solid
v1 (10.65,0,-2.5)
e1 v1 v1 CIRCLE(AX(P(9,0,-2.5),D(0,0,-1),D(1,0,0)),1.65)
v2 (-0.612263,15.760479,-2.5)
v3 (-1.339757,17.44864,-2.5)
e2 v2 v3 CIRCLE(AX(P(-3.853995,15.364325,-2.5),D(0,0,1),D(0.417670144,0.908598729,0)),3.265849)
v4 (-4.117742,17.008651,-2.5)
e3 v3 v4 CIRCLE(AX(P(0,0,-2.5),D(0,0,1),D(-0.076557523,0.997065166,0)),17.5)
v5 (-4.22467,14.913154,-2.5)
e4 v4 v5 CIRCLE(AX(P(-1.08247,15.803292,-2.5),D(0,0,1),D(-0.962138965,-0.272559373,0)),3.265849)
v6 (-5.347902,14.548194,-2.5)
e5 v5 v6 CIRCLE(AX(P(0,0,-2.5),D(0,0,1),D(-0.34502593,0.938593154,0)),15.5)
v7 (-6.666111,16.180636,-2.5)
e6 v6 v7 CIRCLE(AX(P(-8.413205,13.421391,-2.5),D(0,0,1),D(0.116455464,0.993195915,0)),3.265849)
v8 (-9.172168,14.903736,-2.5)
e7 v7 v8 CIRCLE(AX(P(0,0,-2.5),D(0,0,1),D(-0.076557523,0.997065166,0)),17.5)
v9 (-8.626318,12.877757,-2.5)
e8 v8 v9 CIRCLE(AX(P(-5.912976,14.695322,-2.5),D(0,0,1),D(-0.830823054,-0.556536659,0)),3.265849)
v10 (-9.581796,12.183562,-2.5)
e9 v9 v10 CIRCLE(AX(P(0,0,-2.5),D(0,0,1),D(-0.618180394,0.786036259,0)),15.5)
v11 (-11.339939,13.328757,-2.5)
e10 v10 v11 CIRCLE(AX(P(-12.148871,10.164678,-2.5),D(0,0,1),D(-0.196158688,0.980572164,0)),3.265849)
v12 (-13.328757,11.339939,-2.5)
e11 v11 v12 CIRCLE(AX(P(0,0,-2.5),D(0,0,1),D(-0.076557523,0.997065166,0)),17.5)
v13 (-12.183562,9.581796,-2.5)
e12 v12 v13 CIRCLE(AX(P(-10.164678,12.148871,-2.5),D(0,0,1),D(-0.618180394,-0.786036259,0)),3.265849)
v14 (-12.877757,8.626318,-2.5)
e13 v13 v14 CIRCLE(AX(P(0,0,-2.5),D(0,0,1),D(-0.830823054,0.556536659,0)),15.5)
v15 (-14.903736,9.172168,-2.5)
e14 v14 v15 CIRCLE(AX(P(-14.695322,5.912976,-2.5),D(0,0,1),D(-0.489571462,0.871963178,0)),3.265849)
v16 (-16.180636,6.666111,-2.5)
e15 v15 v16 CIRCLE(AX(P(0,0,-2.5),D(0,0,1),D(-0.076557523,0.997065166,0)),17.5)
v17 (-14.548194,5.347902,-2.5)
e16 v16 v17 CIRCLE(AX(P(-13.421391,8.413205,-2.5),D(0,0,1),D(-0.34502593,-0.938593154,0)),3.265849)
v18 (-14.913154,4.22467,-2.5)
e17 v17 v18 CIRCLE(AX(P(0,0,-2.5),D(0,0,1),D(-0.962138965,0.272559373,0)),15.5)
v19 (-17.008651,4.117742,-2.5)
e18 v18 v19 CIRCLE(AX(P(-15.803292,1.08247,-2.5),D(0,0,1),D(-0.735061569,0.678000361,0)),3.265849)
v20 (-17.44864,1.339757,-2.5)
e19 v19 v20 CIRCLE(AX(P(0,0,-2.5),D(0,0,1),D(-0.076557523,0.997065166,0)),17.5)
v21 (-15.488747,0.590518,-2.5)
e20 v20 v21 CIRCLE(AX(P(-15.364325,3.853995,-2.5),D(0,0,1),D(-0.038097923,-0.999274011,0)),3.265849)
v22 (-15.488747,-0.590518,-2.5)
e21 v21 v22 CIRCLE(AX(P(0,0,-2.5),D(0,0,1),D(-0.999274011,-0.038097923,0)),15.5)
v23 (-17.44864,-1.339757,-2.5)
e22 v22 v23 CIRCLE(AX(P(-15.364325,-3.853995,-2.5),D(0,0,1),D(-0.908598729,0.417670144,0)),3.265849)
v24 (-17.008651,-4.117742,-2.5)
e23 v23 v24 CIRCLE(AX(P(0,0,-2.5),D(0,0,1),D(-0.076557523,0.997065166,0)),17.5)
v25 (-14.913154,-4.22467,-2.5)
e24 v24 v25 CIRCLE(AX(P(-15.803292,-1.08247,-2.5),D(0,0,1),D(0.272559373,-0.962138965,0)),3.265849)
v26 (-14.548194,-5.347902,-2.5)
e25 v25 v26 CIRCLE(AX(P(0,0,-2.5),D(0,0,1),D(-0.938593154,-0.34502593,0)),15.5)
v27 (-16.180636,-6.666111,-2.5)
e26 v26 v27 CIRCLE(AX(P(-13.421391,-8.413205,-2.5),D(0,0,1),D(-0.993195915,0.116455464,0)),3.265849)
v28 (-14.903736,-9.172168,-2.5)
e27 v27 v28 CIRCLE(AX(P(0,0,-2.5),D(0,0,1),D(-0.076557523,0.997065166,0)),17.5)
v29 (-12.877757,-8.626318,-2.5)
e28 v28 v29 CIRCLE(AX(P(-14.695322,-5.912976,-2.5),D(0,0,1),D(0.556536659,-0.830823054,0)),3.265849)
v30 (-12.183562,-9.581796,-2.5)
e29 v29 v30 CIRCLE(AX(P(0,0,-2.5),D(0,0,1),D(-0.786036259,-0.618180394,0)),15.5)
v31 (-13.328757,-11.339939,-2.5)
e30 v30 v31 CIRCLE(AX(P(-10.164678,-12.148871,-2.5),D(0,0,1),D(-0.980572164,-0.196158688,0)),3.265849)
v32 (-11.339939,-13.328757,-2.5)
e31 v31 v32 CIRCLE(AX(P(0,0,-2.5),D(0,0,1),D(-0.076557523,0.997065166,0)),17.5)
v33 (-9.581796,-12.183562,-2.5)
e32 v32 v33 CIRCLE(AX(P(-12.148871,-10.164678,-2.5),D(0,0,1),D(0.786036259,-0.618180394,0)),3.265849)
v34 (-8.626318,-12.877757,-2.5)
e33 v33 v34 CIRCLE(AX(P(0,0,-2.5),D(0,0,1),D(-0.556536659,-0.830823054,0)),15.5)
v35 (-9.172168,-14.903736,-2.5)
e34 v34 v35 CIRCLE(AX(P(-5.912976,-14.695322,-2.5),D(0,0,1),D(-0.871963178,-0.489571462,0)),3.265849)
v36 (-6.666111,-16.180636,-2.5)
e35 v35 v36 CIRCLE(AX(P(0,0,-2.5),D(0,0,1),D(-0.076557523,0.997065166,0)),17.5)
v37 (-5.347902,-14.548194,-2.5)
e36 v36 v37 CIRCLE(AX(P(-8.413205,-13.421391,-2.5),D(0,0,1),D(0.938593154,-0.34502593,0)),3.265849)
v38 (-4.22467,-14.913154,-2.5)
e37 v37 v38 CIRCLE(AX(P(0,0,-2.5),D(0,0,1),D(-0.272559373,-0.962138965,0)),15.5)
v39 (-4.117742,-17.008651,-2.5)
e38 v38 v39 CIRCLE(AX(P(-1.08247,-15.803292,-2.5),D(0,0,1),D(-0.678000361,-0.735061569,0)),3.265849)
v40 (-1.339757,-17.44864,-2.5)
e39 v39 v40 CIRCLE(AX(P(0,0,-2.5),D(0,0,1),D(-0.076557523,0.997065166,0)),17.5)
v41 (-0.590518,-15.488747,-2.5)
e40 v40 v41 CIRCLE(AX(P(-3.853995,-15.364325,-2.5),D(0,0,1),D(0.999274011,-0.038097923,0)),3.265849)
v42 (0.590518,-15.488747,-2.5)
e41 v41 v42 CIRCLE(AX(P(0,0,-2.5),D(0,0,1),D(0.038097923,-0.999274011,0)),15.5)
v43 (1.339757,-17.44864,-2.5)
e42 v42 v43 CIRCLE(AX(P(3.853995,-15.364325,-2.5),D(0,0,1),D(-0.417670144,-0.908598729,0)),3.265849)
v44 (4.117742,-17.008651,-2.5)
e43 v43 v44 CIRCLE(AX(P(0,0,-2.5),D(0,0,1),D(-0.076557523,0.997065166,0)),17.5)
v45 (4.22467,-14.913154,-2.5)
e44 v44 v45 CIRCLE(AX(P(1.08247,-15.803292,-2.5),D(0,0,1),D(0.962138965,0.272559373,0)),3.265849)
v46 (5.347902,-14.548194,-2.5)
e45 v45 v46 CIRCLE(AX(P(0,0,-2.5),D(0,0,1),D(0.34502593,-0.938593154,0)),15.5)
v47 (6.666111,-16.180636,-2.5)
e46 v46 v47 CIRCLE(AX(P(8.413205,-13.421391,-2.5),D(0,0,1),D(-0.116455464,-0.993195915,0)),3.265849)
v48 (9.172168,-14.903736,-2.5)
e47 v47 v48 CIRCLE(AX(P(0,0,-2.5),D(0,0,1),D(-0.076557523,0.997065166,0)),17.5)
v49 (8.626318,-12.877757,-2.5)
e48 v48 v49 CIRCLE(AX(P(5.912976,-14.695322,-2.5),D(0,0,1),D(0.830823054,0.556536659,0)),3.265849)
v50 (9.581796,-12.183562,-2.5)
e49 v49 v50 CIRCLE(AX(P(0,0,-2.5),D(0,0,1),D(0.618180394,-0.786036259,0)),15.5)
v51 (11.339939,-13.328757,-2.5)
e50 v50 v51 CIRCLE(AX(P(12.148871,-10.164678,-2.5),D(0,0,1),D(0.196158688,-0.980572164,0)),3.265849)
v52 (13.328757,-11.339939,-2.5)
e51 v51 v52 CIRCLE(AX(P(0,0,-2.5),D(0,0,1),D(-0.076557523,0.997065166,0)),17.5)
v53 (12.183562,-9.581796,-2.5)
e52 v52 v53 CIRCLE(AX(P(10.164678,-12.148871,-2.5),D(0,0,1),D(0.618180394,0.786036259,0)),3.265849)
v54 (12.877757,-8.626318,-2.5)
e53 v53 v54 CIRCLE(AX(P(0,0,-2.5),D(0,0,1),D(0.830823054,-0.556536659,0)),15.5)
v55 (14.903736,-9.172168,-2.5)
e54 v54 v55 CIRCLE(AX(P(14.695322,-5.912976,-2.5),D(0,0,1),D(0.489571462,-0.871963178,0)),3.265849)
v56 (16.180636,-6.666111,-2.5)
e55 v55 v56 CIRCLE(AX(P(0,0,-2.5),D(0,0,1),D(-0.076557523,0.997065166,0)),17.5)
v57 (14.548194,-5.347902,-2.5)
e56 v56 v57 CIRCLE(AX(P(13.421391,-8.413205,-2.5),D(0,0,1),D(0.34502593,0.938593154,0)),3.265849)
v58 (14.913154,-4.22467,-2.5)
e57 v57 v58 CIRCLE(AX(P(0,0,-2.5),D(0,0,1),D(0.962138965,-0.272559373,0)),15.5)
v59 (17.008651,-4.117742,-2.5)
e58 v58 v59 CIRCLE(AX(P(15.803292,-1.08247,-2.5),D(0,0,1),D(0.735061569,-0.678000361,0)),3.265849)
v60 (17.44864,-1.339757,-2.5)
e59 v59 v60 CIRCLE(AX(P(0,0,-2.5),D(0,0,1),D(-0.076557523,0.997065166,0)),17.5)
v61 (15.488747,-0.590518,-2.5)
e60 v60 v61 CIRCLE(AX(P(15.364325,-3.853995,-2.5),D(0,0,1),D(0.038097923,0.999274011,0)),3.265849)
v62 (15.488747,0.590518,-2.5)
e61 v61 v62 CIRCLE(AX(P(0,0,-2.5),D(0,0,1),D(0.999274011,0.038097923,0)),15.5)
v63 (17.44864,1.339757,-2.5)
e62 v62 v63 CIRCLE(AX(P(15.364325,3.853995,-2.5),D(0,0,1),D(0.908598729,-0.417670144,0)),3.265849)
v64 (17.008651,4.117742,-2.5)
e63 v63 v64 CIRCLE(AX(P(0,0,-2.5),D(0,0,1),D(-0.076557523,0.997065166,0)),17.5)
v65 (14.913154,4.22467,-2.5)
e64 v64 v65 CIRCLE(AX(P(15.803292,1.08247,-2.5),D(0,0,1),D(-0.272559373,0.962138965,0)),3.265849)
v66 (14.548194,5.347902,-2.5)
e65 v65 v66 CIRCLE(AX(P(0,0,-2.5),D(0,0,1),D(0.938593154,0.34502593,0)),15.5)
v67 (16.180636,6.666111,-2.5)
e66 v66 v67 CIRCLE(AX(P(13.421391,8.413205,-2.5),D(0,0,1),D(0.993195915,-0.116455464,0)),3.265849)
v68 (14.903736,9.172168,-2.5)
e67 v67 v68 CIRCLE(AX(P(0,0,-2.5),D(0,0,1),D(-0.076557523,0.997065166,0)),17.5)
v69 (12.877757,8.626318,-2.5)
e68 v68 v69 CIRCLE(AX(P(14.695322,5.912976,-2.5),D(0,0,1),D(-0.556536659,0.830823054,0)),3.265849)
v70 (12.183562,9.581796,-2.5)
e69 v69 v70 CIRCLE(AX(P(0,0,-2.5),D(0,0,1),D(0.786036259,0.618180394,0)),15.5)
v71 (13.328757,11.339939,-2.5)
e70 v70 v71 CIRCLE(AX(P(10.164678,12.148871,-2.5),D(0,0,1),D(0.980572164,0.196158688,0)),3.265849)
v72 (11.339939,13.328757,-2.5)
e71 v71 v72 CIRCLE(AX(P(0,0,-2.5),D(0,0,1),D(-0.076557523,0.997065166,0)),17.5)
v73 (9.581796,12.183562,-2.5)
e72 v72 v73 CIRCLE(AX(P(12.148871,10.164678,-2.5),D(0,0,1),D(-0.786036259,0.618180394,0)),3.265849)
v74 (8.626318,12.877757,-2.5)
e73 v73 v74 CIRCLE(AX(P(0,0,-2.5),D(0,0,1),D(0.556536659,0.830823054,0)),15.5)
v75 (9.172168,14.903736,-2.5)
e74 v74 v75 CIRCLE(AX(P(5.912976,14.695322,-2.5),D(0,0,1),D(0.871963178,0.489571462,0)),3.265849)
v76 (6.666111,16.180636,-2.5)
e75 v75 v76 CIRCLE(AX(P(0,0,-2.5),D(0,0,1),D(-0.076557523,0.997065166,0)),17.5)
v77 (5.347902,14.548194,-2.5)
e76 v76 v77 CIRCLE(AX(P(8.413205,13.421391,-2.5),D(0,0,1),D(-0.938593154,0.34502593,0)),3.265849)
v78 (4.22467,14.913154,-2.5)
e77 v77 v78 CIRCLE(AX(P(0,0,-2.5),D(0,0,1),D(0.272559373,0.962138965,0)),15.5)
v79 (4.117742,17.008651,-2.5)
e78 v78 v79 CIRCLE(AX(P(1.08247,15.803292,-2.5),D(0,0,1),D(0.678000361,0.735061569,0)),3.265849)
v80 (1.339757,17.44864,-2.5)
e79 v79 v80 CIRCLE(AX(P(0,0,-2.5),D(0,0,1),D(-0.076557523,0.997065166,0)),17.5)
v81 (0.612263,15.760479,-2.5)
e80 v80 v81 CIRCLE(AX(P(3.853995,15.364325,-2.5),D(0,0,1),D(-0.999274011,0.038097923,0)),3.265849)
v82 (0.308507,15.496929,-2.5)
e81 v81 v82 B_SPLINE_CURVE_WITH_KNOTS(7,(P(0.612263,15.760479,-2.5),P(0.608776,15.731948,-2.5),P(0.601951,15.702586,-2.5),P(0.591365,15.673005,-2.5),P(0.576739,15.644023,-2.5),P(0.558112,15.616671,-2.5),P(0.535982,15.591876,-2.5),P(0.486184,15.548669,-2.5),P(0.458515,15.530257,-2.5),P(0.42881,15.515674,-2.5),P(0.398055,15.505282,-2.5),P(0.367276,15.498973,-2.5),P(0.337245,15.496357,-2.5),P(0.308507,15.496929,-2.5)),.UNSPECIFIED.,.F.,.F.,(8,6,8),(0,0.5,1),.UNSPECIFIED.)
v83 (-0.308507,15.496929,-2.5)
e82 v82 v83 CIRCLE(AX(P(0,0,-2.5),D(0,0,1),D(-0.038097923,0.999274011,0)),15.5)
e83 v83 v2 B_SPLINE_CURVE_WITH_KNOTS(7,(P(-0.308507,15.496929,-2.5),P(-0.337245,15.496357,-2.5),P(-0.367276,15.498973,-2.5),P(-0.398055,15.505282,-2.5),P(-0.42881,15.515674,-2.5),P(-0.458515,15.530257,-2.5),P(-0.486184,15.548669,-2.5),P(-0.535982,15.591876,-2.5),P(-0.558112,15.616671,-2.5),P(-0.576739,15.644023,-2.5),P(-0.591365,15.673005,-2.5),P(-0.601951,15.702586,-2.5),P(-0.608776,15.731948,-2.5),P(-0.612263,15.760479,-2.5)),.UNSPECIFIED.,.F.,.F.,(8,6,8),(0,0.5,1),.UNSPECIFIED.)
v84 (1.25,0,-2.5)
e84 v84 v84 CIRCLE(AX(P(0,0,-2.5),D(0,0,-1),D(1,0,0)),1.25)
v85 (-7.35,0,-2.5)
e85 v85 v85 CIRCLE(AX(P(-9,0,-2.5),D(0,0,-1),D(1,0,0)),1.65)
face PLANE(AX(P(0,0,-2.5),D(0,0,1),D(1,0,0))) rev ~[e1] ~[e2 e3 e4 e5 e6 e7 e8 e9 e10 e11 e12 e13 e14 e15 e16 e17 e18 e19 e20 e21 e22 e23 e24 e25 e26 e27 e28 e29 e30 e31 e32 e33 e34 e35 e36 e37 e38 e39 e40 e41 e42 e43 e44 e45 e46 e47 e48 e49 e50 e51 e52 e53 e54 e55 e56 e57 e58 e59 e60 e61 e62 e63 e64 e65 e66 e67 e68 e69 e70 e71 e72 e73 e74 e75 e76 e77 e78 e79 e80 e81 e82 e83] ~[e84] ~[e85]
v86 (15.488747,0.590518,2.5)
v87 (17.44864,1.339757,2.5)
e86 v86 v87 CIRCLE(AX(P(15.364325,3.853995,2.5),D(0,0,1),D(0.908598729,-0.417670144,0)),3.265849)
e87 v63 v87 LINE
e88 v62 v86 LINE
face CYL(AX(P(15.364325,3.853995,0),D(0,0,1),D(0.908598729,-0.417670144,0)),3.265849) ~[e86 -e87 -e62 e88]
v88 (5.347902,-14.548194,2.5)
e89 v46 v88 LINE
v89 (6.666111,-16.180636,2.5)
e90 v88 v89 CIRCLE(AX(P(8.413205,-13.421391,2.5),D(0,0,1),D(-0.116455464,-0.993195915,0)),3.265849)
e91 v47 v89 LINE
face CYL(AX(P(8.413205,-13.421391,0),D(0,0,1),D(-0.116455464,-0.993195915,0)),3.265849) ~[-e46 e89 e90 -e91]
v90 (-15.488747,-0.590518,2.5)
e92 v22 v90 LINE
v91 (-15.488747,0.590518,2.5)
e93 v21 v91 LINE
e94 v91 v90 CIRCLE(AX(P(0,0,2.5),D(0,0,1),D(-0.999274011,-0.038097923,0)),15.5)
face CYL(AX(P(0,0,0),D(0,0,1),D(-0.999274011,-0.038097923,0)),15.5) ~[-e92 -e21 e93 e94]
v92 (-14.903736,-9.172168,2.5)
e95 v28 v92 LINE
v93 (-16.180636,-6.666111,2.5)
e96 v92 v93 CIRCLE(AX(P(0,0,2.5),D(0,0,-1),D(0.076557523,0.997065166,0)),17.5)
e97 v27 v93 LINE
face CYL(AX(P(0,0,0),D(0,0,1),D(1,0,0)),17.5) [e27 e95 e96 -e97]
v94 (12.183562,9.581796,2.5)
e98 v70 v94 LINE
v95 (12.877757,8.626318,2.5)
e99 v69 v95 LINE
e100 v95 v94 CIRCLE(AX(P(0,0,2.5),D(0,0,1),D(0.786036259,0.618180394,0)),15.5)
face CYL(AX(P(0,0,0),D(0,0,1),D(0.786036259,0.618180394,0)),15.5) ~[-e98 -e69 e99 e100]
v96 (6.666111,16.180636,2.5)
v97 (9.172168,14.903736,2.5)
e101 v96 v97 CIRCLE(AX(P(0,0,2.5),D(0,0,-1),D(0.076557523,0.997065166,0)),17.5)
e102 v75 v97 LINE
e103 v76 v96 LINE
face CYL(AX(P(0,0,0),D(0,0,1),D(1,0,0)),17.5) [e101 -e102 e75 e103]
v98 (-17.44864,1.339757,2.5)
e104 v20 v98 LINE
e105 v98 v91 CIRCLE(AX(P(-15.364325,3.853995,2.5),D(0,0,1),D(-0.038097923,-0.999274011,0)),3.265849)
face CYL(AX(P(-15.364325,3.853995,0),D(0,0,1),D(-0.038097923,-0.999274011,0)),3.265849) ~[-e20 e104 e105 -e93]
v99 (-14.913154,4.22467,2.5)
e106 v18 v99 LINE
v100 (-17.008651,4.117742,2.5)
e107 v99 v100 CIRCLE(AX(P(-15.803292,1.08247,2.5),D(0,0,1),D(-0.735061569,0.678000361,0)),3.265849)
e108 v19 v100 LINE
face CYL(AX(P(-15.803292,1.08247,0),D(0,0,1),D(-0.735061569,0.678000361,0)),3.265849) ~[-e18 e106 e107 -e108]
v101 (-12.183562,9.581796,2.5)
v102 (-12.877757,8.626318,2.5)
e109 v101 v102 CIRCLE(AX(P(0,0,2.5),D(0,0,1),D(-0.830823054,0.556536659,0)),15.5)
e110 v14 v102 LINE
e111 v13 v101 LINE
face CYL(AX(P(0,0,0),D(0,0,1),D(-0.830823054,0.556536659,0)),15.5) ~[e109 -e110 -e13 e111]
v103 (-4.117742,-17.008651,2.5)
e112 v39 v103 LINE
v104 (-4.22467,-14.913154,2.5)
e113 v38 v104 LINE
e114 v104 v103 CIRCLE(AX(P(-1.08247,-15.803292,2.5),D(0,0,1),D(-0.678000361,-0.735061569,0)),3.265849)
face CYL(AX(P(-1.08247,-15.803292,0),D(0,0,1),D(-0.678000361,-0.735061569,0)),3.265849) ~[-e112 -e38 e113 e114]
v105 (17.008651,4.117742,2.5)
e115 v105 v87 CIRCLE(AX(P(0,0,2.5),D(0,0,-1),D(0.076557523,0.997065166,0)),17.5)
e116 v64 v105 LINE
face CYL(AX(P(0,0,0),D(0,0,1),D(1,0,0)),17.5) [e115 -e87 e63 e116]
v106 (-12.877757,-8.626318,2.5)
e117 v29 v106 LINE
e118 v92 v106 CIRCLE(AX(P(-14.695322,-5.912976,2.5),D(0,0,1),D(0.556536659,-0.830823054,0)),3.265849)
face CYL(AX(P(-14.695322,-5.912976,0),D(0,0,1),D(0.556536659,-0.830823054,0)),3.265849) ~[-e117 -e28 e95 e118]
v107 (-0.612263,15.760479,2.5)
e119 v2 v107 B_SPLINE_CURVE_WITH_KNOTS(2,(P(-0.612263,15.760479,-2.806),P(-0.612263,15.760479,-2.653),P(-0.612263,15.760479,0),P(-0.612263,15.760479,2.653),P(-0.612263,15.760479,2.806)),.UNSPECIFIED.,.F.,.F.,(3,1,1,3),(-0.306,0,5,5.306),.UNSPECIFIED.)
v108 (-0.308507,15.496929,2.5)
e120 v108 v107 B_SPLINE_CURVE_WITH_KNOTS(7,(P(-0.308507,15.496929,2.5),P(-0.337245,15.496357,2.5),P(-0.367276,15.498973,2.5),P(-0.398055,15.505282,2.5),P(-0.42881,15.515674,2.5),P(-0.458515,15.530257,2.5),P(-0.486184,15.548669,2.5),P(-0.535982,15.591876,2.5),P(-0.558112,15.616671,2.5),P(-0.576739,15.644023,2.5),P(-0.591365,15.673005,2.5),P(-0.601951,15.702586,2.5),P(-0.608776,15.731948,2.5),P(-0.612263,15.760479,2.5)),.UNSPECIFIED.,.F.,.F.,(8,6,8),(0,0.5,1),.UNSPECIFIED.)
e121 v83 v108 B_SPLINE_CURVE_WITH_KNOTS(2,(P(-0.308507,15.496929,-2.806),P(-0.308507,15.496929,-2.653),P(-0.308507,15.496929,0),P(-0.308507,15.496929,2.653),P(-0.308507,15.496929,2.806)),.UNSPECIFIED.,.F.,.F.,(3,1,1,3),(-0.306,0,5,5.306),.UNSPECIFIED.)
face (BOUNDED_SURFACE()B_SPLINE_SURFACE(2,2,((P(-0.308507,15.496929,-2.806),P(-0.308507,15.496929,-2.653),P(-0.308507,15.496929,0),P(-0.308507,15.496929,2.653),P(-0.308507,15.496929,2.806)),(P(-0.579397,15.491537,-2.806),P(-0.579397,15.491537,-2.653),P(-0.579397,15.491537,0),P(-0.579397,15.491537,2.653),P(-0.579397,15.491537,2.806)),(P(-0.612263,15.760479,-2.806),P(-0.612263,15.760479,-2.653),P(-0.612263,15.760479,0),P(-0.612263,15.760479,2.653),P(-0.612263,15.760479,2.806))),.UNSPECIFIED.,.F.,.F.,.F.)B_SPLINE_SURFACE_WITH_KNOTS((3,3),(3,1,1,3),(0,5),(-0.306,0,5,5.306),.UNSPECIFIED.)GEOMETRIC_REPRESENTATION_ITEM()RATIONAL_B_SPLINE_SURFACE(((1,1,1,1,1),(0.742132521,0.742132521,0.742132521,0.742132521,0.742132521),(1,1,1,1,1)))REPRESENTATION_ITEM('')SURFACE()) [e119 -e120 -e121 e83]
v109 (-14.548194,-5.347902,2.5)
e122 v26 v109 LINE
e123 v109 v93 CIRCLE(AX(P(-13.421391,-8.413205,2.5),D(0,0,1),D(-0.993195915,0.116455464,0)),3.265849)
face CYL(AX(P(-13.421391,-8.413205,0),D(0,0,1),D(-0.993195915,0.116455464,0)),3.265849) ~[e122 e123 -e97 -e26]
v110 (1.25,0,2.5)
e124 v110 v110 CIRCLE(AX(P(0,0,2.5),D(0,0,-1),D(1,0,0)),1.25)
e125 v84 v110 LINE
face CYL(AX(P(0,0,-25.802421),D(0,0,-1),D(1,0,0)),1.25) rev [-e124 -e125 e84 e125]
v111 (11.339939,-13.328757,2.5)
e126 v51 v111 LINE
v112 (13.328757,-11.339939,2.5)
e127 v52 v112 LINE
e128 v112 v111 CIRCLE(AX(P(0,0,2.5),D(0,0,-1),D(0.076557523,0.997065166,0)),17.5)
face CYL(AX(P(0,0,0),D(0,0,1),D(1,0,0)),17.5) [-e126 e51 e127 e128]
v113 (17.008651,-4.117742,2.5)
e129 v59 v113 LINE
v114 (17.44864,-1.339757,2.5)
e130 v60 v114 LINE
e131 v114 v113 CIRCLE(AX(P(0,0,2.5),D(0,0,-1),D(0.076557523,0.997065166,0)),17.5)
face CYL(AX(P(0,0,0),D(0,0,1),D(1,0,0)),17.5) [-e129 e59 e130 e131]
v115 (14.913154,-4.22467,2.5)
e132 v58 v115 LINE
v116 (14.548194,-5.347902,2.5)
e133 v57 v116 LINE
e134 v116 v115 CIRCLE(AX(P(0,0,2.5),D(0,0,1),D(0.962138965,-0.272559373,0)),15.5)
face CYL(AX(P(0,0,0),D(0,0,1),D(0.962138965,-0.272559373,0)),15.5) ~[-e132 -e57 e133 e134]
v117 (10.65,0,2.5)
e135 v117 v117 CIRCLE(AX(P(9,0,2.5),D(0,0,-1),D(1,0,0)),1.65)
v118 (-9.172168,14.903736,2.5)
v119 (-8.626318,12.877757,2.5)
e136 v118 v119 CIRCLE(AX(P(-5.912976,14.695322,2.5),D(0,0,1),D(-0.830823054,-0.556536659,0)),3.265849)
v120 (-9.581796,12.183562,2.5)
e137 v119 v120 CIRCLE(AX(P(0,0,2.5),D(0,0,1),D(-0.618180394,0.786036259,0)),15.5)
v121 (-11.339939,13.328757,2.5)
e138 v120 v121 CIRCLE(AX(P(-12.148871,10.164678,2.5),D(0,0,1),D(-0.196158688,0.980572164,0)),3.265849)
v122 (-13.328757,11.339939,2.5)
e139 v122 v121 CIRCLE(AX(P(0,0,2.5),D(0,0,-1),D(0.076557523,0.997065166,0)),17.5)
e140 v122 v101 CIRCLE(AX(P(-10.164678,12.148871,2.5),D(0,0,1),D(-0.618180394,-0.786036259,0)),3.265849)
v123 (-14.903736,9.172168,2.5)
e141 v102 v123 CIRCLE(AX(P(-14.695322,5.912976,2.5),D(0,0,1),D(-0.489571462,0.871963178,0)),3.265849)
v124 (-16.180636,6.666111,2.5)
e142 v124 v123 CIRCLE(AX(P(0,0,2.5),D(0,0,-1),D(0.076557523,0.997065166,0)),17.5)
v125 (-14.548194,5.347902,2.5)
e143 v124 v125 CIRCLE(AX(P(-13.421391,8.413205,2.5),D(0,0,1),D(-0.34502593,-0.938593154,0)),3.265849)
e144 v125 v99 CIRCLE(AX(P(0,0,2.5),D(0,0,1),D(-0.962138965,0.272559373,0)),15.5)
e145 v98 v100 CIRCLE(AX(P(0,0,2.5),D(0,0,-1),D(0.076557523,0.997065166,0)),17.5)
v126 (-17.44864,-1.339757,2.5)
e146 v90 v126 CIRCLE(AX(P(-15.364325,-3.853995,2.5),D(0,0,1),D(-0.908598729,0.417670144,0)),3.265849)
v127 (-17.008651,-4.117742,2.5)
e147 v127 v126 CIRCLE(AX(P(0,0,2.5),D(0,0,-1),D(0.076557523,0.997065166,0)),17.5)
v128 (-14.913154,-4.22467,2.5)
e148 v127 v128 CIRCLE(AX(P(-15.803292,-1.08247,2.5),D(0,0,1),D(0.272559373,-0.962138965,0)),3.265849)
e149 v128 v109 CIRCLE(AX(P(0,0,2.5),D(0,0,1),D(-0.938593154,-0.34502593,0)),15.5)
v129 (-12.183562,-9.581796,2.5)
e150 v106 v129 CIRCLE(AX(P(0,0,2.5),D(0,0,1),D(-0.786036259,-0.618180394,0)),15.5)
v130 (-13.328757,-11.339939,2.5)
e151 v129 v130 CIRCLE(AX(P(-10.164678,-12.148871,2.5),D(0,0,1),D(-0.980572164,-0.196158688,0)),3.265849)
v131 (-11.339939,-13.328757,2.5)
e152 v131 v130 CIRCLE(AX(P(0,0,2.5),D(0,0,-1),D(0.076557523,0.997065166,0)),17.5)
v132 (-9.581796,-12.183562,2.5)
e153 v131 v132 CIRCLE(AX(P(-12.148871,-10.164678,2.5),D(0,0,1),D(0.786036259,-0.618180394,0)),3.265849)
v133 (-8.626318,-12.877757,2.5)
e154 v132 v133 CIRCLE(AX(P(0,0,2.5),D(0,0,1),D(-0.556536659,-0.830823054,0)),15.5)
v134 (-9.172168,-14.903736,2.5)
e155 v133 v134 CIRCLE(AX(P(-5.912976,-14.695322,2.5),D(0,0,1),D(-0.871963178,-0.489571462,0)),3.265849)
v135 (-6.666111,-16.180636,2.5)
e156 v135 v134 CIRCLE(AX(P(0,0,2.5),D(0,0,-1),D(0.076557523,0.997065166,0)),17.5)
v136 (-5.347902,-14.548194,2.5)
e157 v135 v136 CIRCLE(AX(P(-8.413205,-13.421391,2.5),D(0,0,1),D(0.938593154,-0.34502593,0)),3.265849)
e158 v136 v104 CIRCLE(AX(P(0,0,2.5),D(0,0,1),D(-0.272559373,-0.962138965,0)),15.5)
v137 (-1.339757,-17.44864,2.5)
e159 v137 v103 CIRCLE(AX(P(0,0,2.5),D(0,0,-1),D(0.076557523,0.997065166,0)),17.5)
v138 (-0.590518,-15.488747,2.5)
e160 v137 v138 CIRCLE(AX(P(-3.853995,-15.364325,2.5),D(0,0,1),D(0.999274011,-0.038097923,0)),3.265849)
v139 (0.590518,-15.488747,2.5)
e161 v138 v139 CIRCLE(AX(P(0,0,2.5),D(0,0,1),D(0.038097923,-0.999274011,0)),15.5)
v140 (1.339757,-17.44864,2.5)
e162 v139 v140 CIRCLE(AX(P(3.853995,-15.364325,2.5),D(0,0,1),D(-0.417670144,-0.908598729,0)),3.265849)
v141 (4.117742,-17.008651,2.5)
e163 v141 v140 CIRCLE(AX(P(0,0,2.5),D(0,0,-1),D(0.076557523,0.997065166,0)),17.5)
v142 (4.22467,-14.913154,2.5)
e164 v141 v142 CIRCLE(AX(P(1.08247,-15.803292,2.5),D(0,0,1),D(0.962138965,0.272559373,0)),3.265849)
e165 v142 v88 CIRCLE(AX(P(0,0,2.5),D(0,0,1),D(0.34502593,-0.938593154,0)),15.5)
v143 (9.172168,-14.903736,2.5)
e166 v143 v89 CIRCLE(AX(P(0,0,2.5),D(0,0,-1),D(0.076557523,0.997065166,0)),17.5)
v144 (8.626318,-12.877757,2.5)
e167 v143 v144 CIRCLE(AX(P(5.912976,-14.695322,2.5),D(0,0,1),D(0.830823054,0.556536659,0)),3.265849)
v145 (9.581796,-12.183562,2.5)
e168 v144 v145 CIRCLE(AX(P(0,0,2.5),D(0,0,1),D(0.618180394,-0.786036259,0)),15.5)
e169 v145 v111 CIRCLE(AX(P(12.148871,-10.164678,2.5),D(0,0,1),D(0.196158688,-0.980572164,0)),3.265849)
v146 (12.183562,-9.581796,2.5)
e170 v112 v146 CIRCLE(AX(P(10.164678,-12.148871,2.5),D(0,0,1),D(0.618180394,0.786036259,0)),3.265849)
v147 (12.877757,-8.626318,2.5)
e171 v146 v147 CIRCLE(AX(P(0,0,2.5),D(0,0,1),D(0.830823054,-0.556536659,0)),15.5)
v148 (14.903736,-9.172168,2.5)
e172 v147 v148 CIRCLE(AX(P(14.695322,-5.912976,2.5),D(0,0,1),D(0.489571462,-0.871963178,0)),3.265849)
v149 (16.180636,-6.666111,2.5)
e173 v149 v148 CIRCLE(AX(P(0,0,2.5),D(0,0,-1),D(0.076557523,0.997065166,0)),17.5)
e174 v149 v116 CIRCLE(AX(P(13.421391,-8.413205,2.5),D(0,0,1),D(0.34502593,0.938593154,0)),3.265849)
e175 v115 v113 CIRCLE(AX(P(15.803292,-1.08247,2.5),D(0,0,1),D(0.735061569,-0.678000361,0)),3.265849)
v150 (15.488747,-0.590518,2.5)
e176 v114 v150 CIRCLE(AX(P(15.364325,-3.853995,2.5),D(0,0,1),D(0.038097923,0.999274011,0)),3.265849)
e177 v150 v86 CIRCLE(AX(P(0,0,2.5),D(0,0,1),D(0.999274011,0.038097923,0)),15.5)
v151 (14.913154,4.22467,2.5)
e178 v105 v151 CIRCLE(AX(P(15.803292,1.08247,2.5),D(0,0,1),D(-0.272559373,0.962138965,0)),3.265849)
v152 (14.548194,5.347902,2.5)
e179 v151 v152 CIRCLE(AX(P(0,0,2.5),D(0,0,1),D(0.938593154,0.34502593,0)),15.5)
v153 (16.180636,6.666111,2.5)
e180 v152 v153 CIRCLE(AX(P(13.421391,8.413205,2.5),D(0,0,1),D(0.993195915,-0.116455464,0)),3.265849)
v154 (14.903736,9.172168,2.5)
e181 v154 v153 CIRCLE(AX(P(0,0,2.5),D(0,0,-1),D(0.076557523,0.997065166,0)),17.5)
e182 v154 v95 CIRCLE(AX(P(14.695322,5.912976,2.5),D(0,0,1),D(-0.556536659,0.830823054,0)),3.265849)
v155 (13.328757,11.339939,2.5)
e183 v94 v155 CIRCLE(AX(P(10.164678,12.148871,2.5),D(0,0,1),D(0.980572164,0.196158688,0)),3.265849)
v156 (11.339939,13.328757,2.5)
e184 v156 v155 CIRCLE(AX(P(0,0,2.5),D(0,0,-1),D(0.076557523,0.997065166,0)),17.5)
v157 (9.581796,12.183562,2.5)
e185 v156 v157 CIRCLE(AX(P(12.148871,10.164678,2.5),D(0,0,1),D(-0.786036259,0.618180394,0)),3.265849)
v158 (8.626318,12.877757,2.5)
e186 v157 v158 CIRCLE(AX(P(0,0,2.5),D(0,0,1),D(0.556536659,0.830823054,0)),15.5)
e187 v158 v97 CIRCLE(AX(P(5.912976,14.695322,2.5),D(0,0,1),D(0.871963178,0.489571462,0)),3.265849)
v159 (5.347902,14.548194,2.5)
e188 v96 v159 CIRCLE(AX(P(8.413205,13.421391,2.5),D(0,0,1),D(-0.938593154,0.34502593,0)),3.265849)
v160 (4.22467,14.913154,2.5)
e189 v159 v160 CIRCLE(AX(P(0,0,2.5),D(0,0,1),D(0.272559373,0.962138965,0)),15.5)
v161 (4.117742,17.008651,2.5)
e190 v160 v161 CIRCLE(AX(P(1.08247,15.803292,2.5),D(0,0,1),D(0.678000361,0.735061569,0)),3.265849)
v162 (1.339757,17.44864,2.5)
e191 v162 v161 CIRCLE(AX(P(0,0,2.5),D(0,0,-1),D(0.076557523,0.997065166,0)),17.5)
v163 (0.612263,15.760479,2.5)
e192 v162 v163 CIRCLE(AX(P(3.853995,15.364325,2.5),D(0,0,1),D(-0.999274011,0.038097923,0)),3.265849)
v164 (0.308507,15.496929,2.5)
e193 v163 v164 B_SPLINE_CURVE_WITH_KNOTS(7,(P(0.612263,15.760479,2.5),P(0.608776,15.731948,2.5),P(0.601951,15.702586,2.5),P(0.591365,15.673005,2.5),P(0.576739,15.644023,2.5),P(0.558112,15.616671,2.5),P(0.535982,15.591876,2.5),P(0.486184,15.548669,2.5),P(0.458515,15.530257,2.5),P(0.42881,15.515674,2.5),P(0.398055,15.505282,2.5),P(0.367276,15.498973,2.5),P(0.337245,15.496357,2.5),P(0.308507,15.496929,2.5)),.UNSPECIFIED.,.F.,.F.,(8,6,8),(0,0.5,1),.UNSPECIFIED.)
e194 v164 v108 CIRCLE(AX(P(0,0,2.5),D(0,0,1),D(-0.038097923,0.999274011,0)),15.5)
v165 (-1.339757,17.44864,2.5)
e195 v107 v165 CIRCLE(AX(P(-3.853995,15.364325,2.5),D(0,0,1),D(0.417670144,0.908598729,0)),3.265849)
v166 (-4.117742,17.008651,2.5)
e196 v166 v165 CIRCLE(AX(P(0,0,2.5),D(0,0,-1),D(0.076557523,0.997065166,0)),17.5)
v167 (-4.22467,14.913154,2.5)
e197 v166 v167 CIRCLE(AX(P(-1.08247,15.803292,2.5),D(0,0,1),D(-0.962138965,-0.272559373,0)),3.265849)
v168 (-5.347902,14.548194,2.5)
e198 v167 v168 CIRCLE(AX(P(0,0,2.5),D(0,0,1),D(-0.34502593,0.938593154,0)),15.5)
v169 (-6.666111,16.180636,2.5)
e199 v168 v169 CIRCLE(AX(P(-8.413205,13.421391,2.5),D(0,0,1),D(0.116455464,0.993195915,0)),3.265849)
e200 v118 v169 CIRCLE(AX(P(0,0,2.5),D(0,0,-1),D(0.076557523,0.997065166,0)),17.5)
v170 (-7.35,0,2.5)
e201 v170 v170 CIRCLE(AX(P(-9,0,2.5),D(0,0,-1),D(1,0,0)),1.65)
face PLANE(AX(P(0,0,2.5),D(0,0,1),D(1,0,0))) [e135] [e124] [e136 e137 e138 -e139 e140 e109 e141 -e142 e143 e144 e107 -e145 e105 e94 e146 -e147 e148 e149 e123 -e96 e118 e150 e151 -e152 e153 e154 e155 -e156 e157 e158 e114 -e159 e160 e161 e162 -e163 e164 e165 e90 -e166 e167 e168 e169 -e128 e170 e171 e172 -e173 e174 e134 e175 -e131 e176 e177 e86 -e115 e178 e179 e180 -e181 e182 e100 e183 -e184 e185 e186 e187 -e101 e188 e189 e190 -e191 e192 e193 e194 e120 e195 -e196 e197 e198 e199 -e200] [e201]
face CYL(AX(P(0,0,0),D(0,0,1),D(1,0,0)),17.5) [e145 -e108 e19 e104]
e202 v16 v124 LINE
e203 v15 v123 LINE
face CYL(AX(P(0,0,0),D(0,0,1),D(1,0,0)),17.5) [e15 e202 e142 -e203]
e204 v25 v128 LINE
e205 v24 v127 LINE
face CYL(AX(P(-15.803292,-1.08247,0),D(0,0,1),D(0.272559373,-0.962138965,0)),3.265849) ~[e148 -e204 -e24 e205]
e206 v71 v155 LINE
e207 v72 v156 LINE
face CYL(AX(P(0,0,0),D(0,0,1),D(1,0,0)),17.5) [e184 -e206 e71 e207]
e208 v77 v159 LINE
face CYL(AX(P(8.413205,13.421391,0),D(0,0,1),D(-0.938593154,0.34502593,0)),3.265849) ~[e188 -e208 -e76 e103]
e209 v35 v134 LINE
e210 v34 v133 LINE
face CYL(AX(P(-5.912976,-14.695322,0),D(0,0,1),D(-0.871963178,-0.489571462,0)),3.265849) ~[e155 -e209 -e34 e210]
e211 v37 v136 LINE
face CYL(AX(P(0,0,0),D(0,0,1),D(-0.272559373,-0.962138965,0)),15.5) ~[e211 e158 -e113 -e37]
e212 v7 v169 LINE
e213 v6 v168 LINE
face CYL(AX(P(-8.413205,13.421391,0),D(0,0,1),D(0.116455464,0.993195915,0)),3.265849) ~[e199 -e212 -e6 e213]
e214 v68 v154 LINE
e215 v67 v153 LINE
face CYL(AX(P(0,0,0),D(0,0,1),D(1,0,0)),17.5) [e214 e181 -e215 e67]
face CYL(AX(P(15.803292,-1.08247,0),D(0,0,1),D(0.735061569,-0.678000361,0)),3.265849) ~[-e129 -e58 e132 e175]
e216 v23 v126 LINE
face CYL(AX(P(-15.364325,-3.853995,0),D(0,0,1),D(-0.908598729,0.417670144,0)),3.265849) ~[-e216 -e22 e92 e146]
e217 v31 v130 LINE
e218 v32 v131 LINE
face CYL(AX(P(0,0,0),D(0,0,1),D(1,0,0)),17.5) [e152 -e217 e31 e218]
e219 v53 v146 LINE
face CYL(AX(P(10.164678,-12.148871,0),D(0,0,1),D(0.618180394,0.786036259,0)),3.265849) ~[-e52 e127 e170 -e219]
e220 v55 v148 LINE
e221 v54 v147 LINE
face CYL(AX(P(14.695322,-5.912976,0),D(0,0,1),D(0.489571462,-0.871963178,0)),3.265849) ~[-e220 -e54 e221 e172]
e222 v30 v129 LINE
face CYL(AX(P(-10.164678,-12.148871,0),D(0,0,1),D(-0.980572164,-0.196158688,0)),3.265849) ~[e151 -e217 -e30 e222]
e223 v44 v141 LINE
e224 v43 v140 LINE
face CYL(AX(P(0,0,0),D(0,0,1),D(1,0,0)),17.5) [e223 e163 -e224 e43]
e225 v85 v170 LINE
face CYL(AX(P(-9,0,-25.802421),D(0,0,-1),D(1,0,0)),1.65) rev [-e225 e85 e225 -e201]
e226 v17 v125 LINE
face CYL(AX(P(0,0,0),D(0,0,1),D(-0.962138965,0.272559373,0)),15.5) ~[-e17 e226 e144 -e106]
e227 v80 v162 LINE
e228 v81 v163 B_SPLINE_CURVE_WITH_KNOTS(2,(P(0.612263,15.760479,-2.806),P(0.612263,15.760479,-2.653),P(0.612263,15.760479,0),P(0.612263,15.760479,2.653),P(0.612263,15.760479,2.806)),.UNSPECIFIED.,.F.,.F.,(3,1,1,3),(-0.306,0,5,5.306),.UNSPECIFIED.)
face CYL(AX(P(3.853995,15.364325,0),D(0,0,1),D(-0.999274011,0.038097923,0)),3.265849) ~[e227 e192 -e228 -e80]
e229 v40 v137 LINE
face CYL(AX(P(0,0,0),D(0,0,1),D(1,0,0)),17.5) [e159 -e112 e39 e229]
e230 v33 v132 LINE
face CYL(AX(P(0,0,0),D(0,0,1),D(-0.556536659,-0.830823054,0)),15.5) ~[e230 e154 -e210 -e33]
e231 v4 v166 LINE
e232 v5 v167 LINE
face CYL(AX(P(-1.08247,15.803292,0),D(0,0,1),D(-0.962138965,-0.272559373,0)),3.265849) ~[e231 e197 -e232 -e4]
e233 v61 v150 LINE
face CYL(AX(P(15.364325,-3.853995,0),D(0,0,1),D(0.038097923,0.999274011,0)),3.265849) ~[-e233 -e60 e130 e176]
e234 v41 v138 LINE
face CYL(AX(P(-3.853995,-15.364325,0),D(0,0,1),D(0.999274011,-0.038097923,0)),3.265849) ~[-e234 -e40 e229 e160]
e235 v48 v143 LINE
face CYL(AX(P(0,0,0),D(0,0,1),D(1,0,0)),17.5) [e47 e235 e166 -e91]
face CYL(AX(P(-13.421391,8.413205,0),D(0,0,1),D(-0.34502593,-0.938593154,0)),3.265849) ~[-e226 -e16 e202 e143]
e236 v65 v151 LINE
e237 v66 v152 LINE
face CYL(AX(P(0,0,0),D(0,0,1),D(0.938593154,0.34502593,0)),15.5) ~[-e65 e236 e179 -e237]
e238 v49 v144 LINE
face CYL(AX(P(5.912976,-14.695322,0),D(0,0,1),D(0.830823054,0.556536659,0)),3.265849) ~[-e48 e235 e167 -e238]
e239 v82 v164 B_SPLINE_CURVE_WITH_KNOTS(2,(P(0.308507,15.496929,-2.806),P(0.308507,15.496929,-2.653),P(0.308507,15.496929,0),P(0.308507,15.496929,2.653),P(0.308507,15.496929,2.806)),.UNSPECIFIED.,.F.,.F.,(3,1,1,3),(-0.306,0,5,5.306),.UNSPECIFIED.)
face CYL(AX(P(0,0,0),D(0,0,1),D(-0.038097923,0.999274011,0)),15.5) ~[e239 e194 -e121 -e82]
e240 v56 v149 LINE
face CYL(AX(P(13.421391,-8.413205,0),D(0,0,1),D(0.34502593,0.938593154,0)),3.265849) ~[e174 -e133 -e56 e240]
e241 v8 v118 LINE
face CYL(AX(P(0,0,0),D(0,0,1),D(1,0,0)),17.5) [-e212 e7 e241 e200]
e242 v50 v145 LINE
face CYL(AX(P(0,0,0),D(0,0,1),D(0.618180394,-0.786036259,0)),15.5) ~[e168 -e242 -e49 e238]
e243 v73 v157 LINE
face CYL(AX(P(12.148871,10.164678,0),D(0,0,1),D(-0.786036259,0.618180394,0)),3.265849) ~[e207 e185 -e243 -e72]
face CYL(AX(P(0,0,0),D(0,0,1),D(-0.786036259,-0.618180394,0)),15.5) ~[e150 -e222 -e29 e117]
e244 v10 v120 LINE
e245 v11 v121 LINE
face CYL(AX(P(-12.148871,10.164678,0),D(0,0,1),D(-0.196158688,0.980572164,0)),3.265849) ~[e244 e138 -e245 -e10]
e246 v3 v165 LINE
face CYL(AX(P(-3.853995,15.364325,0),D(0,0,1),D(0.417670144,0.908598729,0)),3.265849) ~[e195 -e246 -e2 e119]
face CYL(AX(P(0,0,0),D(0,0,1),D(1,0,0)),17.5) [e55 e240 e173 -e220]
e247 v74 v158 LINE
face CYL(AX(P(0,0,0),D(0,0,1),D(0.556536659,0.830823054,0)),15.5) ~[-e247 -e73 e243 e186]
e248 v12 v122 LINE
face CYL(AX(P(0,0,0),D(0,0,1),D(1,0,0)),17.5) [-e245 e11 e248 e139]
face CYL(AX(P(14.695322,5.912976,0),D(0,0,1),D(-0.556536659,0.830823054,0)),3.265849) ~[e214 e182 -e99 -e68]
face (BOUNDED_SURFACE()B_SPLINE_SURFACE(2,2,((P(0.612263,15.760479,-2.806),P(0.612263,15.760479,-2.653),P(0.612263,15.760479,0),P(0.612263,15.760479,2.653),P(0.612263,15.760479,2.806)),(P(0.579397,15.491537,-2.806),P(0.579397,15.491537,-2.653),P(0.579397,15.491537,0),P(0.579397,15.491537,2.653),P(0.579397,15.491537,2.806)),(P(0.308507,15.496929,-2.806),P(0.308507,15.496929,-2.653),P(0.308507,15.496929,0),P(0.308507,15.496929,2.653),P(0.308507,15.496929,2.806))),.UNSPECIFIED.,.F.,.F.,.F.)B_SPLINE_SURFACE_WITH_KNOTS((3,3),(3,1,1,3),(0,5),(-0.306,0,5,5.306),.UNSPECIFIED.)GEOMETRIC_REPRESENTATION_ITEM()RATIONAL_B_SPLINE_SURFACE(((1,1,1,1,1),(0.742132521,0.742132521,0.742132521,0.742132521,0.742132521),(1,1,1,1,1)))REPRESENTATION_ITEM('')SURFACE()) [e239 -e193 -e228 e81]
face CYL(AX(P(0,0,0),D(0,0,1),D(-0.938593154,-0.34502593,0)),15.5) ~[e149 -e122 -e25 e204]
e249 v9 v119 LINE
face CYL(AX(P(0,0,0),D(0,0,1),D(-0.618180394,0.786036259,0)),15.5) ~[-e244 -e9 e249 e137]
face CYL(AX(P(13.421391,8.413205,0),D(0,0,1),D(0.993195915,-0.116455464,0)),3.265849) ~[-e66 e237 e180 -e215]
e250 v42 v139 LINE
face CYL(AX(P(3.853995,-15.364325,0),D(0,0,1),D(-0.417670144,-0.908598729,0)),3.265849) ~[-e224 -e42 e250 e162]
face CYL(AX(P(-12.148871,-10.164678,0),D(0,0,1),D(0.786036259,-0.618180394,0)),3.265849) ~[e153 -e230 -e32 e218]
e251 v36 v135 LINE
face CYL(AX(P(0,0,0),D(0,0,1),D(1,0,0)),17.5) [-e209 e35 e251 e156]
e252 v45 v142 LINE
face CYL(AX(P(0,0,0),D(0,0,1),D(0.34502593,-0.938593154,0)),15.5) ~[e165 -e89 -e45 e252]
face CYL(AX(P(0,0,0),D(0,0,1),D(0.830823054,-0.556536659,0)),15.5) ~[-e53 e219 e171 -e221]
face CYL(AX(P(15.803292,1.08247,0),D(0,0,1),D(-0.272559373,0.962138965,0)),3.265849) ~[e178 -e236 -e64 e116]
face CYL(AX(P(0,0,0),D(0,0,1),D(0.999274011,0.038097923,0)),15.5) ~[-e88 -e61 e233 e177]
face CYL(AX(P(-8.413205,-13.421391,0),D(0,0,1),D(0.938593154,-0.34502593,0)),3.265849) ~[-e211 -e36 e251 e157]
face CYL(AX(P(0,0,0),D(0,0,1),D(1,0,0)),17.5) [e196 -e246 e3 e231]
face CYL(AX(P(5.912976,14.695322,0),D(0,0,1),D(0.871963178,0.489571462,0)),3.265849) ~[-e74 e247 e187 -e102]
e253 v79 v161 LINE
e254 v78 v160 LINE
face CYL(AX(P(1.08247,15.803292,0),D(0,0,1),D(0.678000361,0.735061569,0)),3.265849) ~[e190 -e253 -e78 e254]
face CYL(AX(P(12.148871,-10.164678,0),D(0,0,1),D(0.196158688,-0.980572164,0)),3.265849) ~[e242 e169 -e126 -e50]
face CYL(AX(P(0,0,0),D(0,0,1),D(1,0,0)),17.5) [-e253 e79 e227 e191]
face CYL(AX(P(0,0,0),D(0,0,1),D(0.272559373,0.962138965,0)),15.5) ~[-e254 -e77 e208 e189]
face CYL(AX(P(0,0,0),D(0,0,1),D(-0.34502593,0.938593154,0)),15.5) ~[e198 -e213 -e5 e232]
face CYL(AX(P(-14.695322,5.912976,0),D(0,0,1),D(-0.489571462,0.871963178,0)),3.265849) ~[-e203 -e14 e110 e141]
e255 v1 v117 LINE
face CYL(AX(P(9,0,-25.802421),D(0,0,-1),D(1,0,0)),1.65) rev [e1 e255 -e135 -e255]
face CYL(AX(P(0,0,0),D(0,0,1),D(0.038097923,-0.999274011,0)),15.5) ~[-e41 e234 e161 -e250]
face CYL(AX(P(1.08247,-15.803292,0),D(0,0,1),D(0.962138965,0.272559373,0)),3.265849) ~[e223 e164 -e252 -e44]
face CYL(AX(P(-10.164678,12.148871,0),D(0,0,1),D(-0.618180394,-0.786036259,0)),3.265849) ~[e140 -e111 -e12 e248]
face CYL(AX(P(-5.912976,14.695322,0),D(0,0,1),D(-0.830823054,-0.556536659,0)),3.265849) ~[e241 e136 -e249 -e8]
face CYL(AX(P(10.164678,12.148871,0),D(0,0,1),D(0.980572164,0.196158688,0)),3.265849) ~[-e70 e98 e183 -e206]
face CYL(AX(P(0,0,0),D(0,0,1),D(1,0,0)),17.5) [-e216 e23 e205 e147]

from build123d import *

# Parameters (mm, degrees)
SKETCH1_R                      = 17.5
BOSS_EXTRUDE1_DEPTH            = 2.5
CUT_EXTRUDE1_DEPTH             = 25.874685928
FILLET2_R                      = 0.3
CIRPATTERN1_COUNT              = 20
THROUGH_CENTER_HOLE_DEPTH      = 25.802421489
THROUGH_CENTER_HOLE_DEPTH_BACK = 25.802421489
SKETCH4_R                      = 1.25
TO_KNUCKLE_MOUNT_DEPTH         = 25.802421489
TO_KNUCKLE_MOUNT_DEPTH_BACK    = 25.802421489
SKETCH5_R                      = 1.65


with BuildPart() as part:
    # Sketch1 → Boss-Extrude1 (new, symmetric)
    with BuildSketch(Plane.XY):
        Circle(SKETCH1_R)
    extrude(amount=BOSS_EXTRUDE1_DEPTH, both=True)

    # Sketch3 → Cut-Extrude1 (cut, symmetric)
    with BuildSketch(Plane.XY):
        with BuildLine():
            ThreePointArc((-2.489947944, 18.331670934), (-1.138475024, 17.178633755), (-0.590517817, 15.488747164))
            ThreePointArc((-0.590517817, 15.488747164), (0, 15.5), (0.590517817, 15.488747164))
            ThreePointArc((0.590517817, 15.488747164), (1.138475024, 17.178633755), (2.489947944, 18.331670934))
            ThreePointArc((2.489947944, 18.331670934), (0, 18.5), (-2.489947944, 18.331670934))
        make_face()
    cut_extrude1 = extrude(amount=CUT_EXTRUDE1_DEPTH, both=True, mode=Mode.SUBTRACT)

    # Fillet2
    fillet2_edges = [part.edges().sort_by_distance(p)[0] for p in [
        (-0.590517817, 15.488747164, 0),
        (0.590517817, 15.488747164, 0),
    ]]
    fillet(fillet2_edges, radius=FILLET2_R)

    # CirPattern1: Cut-Extrude1 ×20 about axis
    cirpattern1_axis = Axis((0, 0, 0), (0, 0, 1))
    for i in range(1, CIRPATTERN1_COUNT):
        add(cut_extrude1.rotate(cirpattern1_axis, i * 360 / CIRPATTERN1_COUNT), mode=Mode.SUBTRACT)

    # Sketch4 → Through_Center_Hole (cut, two sides: drawn at the far end of the back side and taken through both)
    with BuildSketch(Plane.XY.offset(-THROUGH_CENTER_HOLE_DEPTH_BACK)):
        Circle(SKETCH4_R)
    extrude(amount=THROUGH_CENTER_HOLE_DEPTH + THROUGH_CENTER_HOLE_DEPTH_BACK, mode=Mode.SUBTRACT)

    # Sketch5 → To_Knuckle_Mount (cut, two sides: drawn at the far end of the back side and taken through both)
    with BuildSketch(Plane.XY.offset(-TO_KNUCKLE_MOUNT_DEPTH_BACK)):
        with Locations((9, 0)):
            Circle(SKETCH5_R)
        with Locations((-9, 0)):
            Circle(SKETCH5_R)
    extrude(amount=TO_KNUCKLE_MOUNT_DEPTH + TO_KNUCKLE_MOUNT_DEPTH_BACK, mode=Mode.SUBTRACT)


solid = part.part
